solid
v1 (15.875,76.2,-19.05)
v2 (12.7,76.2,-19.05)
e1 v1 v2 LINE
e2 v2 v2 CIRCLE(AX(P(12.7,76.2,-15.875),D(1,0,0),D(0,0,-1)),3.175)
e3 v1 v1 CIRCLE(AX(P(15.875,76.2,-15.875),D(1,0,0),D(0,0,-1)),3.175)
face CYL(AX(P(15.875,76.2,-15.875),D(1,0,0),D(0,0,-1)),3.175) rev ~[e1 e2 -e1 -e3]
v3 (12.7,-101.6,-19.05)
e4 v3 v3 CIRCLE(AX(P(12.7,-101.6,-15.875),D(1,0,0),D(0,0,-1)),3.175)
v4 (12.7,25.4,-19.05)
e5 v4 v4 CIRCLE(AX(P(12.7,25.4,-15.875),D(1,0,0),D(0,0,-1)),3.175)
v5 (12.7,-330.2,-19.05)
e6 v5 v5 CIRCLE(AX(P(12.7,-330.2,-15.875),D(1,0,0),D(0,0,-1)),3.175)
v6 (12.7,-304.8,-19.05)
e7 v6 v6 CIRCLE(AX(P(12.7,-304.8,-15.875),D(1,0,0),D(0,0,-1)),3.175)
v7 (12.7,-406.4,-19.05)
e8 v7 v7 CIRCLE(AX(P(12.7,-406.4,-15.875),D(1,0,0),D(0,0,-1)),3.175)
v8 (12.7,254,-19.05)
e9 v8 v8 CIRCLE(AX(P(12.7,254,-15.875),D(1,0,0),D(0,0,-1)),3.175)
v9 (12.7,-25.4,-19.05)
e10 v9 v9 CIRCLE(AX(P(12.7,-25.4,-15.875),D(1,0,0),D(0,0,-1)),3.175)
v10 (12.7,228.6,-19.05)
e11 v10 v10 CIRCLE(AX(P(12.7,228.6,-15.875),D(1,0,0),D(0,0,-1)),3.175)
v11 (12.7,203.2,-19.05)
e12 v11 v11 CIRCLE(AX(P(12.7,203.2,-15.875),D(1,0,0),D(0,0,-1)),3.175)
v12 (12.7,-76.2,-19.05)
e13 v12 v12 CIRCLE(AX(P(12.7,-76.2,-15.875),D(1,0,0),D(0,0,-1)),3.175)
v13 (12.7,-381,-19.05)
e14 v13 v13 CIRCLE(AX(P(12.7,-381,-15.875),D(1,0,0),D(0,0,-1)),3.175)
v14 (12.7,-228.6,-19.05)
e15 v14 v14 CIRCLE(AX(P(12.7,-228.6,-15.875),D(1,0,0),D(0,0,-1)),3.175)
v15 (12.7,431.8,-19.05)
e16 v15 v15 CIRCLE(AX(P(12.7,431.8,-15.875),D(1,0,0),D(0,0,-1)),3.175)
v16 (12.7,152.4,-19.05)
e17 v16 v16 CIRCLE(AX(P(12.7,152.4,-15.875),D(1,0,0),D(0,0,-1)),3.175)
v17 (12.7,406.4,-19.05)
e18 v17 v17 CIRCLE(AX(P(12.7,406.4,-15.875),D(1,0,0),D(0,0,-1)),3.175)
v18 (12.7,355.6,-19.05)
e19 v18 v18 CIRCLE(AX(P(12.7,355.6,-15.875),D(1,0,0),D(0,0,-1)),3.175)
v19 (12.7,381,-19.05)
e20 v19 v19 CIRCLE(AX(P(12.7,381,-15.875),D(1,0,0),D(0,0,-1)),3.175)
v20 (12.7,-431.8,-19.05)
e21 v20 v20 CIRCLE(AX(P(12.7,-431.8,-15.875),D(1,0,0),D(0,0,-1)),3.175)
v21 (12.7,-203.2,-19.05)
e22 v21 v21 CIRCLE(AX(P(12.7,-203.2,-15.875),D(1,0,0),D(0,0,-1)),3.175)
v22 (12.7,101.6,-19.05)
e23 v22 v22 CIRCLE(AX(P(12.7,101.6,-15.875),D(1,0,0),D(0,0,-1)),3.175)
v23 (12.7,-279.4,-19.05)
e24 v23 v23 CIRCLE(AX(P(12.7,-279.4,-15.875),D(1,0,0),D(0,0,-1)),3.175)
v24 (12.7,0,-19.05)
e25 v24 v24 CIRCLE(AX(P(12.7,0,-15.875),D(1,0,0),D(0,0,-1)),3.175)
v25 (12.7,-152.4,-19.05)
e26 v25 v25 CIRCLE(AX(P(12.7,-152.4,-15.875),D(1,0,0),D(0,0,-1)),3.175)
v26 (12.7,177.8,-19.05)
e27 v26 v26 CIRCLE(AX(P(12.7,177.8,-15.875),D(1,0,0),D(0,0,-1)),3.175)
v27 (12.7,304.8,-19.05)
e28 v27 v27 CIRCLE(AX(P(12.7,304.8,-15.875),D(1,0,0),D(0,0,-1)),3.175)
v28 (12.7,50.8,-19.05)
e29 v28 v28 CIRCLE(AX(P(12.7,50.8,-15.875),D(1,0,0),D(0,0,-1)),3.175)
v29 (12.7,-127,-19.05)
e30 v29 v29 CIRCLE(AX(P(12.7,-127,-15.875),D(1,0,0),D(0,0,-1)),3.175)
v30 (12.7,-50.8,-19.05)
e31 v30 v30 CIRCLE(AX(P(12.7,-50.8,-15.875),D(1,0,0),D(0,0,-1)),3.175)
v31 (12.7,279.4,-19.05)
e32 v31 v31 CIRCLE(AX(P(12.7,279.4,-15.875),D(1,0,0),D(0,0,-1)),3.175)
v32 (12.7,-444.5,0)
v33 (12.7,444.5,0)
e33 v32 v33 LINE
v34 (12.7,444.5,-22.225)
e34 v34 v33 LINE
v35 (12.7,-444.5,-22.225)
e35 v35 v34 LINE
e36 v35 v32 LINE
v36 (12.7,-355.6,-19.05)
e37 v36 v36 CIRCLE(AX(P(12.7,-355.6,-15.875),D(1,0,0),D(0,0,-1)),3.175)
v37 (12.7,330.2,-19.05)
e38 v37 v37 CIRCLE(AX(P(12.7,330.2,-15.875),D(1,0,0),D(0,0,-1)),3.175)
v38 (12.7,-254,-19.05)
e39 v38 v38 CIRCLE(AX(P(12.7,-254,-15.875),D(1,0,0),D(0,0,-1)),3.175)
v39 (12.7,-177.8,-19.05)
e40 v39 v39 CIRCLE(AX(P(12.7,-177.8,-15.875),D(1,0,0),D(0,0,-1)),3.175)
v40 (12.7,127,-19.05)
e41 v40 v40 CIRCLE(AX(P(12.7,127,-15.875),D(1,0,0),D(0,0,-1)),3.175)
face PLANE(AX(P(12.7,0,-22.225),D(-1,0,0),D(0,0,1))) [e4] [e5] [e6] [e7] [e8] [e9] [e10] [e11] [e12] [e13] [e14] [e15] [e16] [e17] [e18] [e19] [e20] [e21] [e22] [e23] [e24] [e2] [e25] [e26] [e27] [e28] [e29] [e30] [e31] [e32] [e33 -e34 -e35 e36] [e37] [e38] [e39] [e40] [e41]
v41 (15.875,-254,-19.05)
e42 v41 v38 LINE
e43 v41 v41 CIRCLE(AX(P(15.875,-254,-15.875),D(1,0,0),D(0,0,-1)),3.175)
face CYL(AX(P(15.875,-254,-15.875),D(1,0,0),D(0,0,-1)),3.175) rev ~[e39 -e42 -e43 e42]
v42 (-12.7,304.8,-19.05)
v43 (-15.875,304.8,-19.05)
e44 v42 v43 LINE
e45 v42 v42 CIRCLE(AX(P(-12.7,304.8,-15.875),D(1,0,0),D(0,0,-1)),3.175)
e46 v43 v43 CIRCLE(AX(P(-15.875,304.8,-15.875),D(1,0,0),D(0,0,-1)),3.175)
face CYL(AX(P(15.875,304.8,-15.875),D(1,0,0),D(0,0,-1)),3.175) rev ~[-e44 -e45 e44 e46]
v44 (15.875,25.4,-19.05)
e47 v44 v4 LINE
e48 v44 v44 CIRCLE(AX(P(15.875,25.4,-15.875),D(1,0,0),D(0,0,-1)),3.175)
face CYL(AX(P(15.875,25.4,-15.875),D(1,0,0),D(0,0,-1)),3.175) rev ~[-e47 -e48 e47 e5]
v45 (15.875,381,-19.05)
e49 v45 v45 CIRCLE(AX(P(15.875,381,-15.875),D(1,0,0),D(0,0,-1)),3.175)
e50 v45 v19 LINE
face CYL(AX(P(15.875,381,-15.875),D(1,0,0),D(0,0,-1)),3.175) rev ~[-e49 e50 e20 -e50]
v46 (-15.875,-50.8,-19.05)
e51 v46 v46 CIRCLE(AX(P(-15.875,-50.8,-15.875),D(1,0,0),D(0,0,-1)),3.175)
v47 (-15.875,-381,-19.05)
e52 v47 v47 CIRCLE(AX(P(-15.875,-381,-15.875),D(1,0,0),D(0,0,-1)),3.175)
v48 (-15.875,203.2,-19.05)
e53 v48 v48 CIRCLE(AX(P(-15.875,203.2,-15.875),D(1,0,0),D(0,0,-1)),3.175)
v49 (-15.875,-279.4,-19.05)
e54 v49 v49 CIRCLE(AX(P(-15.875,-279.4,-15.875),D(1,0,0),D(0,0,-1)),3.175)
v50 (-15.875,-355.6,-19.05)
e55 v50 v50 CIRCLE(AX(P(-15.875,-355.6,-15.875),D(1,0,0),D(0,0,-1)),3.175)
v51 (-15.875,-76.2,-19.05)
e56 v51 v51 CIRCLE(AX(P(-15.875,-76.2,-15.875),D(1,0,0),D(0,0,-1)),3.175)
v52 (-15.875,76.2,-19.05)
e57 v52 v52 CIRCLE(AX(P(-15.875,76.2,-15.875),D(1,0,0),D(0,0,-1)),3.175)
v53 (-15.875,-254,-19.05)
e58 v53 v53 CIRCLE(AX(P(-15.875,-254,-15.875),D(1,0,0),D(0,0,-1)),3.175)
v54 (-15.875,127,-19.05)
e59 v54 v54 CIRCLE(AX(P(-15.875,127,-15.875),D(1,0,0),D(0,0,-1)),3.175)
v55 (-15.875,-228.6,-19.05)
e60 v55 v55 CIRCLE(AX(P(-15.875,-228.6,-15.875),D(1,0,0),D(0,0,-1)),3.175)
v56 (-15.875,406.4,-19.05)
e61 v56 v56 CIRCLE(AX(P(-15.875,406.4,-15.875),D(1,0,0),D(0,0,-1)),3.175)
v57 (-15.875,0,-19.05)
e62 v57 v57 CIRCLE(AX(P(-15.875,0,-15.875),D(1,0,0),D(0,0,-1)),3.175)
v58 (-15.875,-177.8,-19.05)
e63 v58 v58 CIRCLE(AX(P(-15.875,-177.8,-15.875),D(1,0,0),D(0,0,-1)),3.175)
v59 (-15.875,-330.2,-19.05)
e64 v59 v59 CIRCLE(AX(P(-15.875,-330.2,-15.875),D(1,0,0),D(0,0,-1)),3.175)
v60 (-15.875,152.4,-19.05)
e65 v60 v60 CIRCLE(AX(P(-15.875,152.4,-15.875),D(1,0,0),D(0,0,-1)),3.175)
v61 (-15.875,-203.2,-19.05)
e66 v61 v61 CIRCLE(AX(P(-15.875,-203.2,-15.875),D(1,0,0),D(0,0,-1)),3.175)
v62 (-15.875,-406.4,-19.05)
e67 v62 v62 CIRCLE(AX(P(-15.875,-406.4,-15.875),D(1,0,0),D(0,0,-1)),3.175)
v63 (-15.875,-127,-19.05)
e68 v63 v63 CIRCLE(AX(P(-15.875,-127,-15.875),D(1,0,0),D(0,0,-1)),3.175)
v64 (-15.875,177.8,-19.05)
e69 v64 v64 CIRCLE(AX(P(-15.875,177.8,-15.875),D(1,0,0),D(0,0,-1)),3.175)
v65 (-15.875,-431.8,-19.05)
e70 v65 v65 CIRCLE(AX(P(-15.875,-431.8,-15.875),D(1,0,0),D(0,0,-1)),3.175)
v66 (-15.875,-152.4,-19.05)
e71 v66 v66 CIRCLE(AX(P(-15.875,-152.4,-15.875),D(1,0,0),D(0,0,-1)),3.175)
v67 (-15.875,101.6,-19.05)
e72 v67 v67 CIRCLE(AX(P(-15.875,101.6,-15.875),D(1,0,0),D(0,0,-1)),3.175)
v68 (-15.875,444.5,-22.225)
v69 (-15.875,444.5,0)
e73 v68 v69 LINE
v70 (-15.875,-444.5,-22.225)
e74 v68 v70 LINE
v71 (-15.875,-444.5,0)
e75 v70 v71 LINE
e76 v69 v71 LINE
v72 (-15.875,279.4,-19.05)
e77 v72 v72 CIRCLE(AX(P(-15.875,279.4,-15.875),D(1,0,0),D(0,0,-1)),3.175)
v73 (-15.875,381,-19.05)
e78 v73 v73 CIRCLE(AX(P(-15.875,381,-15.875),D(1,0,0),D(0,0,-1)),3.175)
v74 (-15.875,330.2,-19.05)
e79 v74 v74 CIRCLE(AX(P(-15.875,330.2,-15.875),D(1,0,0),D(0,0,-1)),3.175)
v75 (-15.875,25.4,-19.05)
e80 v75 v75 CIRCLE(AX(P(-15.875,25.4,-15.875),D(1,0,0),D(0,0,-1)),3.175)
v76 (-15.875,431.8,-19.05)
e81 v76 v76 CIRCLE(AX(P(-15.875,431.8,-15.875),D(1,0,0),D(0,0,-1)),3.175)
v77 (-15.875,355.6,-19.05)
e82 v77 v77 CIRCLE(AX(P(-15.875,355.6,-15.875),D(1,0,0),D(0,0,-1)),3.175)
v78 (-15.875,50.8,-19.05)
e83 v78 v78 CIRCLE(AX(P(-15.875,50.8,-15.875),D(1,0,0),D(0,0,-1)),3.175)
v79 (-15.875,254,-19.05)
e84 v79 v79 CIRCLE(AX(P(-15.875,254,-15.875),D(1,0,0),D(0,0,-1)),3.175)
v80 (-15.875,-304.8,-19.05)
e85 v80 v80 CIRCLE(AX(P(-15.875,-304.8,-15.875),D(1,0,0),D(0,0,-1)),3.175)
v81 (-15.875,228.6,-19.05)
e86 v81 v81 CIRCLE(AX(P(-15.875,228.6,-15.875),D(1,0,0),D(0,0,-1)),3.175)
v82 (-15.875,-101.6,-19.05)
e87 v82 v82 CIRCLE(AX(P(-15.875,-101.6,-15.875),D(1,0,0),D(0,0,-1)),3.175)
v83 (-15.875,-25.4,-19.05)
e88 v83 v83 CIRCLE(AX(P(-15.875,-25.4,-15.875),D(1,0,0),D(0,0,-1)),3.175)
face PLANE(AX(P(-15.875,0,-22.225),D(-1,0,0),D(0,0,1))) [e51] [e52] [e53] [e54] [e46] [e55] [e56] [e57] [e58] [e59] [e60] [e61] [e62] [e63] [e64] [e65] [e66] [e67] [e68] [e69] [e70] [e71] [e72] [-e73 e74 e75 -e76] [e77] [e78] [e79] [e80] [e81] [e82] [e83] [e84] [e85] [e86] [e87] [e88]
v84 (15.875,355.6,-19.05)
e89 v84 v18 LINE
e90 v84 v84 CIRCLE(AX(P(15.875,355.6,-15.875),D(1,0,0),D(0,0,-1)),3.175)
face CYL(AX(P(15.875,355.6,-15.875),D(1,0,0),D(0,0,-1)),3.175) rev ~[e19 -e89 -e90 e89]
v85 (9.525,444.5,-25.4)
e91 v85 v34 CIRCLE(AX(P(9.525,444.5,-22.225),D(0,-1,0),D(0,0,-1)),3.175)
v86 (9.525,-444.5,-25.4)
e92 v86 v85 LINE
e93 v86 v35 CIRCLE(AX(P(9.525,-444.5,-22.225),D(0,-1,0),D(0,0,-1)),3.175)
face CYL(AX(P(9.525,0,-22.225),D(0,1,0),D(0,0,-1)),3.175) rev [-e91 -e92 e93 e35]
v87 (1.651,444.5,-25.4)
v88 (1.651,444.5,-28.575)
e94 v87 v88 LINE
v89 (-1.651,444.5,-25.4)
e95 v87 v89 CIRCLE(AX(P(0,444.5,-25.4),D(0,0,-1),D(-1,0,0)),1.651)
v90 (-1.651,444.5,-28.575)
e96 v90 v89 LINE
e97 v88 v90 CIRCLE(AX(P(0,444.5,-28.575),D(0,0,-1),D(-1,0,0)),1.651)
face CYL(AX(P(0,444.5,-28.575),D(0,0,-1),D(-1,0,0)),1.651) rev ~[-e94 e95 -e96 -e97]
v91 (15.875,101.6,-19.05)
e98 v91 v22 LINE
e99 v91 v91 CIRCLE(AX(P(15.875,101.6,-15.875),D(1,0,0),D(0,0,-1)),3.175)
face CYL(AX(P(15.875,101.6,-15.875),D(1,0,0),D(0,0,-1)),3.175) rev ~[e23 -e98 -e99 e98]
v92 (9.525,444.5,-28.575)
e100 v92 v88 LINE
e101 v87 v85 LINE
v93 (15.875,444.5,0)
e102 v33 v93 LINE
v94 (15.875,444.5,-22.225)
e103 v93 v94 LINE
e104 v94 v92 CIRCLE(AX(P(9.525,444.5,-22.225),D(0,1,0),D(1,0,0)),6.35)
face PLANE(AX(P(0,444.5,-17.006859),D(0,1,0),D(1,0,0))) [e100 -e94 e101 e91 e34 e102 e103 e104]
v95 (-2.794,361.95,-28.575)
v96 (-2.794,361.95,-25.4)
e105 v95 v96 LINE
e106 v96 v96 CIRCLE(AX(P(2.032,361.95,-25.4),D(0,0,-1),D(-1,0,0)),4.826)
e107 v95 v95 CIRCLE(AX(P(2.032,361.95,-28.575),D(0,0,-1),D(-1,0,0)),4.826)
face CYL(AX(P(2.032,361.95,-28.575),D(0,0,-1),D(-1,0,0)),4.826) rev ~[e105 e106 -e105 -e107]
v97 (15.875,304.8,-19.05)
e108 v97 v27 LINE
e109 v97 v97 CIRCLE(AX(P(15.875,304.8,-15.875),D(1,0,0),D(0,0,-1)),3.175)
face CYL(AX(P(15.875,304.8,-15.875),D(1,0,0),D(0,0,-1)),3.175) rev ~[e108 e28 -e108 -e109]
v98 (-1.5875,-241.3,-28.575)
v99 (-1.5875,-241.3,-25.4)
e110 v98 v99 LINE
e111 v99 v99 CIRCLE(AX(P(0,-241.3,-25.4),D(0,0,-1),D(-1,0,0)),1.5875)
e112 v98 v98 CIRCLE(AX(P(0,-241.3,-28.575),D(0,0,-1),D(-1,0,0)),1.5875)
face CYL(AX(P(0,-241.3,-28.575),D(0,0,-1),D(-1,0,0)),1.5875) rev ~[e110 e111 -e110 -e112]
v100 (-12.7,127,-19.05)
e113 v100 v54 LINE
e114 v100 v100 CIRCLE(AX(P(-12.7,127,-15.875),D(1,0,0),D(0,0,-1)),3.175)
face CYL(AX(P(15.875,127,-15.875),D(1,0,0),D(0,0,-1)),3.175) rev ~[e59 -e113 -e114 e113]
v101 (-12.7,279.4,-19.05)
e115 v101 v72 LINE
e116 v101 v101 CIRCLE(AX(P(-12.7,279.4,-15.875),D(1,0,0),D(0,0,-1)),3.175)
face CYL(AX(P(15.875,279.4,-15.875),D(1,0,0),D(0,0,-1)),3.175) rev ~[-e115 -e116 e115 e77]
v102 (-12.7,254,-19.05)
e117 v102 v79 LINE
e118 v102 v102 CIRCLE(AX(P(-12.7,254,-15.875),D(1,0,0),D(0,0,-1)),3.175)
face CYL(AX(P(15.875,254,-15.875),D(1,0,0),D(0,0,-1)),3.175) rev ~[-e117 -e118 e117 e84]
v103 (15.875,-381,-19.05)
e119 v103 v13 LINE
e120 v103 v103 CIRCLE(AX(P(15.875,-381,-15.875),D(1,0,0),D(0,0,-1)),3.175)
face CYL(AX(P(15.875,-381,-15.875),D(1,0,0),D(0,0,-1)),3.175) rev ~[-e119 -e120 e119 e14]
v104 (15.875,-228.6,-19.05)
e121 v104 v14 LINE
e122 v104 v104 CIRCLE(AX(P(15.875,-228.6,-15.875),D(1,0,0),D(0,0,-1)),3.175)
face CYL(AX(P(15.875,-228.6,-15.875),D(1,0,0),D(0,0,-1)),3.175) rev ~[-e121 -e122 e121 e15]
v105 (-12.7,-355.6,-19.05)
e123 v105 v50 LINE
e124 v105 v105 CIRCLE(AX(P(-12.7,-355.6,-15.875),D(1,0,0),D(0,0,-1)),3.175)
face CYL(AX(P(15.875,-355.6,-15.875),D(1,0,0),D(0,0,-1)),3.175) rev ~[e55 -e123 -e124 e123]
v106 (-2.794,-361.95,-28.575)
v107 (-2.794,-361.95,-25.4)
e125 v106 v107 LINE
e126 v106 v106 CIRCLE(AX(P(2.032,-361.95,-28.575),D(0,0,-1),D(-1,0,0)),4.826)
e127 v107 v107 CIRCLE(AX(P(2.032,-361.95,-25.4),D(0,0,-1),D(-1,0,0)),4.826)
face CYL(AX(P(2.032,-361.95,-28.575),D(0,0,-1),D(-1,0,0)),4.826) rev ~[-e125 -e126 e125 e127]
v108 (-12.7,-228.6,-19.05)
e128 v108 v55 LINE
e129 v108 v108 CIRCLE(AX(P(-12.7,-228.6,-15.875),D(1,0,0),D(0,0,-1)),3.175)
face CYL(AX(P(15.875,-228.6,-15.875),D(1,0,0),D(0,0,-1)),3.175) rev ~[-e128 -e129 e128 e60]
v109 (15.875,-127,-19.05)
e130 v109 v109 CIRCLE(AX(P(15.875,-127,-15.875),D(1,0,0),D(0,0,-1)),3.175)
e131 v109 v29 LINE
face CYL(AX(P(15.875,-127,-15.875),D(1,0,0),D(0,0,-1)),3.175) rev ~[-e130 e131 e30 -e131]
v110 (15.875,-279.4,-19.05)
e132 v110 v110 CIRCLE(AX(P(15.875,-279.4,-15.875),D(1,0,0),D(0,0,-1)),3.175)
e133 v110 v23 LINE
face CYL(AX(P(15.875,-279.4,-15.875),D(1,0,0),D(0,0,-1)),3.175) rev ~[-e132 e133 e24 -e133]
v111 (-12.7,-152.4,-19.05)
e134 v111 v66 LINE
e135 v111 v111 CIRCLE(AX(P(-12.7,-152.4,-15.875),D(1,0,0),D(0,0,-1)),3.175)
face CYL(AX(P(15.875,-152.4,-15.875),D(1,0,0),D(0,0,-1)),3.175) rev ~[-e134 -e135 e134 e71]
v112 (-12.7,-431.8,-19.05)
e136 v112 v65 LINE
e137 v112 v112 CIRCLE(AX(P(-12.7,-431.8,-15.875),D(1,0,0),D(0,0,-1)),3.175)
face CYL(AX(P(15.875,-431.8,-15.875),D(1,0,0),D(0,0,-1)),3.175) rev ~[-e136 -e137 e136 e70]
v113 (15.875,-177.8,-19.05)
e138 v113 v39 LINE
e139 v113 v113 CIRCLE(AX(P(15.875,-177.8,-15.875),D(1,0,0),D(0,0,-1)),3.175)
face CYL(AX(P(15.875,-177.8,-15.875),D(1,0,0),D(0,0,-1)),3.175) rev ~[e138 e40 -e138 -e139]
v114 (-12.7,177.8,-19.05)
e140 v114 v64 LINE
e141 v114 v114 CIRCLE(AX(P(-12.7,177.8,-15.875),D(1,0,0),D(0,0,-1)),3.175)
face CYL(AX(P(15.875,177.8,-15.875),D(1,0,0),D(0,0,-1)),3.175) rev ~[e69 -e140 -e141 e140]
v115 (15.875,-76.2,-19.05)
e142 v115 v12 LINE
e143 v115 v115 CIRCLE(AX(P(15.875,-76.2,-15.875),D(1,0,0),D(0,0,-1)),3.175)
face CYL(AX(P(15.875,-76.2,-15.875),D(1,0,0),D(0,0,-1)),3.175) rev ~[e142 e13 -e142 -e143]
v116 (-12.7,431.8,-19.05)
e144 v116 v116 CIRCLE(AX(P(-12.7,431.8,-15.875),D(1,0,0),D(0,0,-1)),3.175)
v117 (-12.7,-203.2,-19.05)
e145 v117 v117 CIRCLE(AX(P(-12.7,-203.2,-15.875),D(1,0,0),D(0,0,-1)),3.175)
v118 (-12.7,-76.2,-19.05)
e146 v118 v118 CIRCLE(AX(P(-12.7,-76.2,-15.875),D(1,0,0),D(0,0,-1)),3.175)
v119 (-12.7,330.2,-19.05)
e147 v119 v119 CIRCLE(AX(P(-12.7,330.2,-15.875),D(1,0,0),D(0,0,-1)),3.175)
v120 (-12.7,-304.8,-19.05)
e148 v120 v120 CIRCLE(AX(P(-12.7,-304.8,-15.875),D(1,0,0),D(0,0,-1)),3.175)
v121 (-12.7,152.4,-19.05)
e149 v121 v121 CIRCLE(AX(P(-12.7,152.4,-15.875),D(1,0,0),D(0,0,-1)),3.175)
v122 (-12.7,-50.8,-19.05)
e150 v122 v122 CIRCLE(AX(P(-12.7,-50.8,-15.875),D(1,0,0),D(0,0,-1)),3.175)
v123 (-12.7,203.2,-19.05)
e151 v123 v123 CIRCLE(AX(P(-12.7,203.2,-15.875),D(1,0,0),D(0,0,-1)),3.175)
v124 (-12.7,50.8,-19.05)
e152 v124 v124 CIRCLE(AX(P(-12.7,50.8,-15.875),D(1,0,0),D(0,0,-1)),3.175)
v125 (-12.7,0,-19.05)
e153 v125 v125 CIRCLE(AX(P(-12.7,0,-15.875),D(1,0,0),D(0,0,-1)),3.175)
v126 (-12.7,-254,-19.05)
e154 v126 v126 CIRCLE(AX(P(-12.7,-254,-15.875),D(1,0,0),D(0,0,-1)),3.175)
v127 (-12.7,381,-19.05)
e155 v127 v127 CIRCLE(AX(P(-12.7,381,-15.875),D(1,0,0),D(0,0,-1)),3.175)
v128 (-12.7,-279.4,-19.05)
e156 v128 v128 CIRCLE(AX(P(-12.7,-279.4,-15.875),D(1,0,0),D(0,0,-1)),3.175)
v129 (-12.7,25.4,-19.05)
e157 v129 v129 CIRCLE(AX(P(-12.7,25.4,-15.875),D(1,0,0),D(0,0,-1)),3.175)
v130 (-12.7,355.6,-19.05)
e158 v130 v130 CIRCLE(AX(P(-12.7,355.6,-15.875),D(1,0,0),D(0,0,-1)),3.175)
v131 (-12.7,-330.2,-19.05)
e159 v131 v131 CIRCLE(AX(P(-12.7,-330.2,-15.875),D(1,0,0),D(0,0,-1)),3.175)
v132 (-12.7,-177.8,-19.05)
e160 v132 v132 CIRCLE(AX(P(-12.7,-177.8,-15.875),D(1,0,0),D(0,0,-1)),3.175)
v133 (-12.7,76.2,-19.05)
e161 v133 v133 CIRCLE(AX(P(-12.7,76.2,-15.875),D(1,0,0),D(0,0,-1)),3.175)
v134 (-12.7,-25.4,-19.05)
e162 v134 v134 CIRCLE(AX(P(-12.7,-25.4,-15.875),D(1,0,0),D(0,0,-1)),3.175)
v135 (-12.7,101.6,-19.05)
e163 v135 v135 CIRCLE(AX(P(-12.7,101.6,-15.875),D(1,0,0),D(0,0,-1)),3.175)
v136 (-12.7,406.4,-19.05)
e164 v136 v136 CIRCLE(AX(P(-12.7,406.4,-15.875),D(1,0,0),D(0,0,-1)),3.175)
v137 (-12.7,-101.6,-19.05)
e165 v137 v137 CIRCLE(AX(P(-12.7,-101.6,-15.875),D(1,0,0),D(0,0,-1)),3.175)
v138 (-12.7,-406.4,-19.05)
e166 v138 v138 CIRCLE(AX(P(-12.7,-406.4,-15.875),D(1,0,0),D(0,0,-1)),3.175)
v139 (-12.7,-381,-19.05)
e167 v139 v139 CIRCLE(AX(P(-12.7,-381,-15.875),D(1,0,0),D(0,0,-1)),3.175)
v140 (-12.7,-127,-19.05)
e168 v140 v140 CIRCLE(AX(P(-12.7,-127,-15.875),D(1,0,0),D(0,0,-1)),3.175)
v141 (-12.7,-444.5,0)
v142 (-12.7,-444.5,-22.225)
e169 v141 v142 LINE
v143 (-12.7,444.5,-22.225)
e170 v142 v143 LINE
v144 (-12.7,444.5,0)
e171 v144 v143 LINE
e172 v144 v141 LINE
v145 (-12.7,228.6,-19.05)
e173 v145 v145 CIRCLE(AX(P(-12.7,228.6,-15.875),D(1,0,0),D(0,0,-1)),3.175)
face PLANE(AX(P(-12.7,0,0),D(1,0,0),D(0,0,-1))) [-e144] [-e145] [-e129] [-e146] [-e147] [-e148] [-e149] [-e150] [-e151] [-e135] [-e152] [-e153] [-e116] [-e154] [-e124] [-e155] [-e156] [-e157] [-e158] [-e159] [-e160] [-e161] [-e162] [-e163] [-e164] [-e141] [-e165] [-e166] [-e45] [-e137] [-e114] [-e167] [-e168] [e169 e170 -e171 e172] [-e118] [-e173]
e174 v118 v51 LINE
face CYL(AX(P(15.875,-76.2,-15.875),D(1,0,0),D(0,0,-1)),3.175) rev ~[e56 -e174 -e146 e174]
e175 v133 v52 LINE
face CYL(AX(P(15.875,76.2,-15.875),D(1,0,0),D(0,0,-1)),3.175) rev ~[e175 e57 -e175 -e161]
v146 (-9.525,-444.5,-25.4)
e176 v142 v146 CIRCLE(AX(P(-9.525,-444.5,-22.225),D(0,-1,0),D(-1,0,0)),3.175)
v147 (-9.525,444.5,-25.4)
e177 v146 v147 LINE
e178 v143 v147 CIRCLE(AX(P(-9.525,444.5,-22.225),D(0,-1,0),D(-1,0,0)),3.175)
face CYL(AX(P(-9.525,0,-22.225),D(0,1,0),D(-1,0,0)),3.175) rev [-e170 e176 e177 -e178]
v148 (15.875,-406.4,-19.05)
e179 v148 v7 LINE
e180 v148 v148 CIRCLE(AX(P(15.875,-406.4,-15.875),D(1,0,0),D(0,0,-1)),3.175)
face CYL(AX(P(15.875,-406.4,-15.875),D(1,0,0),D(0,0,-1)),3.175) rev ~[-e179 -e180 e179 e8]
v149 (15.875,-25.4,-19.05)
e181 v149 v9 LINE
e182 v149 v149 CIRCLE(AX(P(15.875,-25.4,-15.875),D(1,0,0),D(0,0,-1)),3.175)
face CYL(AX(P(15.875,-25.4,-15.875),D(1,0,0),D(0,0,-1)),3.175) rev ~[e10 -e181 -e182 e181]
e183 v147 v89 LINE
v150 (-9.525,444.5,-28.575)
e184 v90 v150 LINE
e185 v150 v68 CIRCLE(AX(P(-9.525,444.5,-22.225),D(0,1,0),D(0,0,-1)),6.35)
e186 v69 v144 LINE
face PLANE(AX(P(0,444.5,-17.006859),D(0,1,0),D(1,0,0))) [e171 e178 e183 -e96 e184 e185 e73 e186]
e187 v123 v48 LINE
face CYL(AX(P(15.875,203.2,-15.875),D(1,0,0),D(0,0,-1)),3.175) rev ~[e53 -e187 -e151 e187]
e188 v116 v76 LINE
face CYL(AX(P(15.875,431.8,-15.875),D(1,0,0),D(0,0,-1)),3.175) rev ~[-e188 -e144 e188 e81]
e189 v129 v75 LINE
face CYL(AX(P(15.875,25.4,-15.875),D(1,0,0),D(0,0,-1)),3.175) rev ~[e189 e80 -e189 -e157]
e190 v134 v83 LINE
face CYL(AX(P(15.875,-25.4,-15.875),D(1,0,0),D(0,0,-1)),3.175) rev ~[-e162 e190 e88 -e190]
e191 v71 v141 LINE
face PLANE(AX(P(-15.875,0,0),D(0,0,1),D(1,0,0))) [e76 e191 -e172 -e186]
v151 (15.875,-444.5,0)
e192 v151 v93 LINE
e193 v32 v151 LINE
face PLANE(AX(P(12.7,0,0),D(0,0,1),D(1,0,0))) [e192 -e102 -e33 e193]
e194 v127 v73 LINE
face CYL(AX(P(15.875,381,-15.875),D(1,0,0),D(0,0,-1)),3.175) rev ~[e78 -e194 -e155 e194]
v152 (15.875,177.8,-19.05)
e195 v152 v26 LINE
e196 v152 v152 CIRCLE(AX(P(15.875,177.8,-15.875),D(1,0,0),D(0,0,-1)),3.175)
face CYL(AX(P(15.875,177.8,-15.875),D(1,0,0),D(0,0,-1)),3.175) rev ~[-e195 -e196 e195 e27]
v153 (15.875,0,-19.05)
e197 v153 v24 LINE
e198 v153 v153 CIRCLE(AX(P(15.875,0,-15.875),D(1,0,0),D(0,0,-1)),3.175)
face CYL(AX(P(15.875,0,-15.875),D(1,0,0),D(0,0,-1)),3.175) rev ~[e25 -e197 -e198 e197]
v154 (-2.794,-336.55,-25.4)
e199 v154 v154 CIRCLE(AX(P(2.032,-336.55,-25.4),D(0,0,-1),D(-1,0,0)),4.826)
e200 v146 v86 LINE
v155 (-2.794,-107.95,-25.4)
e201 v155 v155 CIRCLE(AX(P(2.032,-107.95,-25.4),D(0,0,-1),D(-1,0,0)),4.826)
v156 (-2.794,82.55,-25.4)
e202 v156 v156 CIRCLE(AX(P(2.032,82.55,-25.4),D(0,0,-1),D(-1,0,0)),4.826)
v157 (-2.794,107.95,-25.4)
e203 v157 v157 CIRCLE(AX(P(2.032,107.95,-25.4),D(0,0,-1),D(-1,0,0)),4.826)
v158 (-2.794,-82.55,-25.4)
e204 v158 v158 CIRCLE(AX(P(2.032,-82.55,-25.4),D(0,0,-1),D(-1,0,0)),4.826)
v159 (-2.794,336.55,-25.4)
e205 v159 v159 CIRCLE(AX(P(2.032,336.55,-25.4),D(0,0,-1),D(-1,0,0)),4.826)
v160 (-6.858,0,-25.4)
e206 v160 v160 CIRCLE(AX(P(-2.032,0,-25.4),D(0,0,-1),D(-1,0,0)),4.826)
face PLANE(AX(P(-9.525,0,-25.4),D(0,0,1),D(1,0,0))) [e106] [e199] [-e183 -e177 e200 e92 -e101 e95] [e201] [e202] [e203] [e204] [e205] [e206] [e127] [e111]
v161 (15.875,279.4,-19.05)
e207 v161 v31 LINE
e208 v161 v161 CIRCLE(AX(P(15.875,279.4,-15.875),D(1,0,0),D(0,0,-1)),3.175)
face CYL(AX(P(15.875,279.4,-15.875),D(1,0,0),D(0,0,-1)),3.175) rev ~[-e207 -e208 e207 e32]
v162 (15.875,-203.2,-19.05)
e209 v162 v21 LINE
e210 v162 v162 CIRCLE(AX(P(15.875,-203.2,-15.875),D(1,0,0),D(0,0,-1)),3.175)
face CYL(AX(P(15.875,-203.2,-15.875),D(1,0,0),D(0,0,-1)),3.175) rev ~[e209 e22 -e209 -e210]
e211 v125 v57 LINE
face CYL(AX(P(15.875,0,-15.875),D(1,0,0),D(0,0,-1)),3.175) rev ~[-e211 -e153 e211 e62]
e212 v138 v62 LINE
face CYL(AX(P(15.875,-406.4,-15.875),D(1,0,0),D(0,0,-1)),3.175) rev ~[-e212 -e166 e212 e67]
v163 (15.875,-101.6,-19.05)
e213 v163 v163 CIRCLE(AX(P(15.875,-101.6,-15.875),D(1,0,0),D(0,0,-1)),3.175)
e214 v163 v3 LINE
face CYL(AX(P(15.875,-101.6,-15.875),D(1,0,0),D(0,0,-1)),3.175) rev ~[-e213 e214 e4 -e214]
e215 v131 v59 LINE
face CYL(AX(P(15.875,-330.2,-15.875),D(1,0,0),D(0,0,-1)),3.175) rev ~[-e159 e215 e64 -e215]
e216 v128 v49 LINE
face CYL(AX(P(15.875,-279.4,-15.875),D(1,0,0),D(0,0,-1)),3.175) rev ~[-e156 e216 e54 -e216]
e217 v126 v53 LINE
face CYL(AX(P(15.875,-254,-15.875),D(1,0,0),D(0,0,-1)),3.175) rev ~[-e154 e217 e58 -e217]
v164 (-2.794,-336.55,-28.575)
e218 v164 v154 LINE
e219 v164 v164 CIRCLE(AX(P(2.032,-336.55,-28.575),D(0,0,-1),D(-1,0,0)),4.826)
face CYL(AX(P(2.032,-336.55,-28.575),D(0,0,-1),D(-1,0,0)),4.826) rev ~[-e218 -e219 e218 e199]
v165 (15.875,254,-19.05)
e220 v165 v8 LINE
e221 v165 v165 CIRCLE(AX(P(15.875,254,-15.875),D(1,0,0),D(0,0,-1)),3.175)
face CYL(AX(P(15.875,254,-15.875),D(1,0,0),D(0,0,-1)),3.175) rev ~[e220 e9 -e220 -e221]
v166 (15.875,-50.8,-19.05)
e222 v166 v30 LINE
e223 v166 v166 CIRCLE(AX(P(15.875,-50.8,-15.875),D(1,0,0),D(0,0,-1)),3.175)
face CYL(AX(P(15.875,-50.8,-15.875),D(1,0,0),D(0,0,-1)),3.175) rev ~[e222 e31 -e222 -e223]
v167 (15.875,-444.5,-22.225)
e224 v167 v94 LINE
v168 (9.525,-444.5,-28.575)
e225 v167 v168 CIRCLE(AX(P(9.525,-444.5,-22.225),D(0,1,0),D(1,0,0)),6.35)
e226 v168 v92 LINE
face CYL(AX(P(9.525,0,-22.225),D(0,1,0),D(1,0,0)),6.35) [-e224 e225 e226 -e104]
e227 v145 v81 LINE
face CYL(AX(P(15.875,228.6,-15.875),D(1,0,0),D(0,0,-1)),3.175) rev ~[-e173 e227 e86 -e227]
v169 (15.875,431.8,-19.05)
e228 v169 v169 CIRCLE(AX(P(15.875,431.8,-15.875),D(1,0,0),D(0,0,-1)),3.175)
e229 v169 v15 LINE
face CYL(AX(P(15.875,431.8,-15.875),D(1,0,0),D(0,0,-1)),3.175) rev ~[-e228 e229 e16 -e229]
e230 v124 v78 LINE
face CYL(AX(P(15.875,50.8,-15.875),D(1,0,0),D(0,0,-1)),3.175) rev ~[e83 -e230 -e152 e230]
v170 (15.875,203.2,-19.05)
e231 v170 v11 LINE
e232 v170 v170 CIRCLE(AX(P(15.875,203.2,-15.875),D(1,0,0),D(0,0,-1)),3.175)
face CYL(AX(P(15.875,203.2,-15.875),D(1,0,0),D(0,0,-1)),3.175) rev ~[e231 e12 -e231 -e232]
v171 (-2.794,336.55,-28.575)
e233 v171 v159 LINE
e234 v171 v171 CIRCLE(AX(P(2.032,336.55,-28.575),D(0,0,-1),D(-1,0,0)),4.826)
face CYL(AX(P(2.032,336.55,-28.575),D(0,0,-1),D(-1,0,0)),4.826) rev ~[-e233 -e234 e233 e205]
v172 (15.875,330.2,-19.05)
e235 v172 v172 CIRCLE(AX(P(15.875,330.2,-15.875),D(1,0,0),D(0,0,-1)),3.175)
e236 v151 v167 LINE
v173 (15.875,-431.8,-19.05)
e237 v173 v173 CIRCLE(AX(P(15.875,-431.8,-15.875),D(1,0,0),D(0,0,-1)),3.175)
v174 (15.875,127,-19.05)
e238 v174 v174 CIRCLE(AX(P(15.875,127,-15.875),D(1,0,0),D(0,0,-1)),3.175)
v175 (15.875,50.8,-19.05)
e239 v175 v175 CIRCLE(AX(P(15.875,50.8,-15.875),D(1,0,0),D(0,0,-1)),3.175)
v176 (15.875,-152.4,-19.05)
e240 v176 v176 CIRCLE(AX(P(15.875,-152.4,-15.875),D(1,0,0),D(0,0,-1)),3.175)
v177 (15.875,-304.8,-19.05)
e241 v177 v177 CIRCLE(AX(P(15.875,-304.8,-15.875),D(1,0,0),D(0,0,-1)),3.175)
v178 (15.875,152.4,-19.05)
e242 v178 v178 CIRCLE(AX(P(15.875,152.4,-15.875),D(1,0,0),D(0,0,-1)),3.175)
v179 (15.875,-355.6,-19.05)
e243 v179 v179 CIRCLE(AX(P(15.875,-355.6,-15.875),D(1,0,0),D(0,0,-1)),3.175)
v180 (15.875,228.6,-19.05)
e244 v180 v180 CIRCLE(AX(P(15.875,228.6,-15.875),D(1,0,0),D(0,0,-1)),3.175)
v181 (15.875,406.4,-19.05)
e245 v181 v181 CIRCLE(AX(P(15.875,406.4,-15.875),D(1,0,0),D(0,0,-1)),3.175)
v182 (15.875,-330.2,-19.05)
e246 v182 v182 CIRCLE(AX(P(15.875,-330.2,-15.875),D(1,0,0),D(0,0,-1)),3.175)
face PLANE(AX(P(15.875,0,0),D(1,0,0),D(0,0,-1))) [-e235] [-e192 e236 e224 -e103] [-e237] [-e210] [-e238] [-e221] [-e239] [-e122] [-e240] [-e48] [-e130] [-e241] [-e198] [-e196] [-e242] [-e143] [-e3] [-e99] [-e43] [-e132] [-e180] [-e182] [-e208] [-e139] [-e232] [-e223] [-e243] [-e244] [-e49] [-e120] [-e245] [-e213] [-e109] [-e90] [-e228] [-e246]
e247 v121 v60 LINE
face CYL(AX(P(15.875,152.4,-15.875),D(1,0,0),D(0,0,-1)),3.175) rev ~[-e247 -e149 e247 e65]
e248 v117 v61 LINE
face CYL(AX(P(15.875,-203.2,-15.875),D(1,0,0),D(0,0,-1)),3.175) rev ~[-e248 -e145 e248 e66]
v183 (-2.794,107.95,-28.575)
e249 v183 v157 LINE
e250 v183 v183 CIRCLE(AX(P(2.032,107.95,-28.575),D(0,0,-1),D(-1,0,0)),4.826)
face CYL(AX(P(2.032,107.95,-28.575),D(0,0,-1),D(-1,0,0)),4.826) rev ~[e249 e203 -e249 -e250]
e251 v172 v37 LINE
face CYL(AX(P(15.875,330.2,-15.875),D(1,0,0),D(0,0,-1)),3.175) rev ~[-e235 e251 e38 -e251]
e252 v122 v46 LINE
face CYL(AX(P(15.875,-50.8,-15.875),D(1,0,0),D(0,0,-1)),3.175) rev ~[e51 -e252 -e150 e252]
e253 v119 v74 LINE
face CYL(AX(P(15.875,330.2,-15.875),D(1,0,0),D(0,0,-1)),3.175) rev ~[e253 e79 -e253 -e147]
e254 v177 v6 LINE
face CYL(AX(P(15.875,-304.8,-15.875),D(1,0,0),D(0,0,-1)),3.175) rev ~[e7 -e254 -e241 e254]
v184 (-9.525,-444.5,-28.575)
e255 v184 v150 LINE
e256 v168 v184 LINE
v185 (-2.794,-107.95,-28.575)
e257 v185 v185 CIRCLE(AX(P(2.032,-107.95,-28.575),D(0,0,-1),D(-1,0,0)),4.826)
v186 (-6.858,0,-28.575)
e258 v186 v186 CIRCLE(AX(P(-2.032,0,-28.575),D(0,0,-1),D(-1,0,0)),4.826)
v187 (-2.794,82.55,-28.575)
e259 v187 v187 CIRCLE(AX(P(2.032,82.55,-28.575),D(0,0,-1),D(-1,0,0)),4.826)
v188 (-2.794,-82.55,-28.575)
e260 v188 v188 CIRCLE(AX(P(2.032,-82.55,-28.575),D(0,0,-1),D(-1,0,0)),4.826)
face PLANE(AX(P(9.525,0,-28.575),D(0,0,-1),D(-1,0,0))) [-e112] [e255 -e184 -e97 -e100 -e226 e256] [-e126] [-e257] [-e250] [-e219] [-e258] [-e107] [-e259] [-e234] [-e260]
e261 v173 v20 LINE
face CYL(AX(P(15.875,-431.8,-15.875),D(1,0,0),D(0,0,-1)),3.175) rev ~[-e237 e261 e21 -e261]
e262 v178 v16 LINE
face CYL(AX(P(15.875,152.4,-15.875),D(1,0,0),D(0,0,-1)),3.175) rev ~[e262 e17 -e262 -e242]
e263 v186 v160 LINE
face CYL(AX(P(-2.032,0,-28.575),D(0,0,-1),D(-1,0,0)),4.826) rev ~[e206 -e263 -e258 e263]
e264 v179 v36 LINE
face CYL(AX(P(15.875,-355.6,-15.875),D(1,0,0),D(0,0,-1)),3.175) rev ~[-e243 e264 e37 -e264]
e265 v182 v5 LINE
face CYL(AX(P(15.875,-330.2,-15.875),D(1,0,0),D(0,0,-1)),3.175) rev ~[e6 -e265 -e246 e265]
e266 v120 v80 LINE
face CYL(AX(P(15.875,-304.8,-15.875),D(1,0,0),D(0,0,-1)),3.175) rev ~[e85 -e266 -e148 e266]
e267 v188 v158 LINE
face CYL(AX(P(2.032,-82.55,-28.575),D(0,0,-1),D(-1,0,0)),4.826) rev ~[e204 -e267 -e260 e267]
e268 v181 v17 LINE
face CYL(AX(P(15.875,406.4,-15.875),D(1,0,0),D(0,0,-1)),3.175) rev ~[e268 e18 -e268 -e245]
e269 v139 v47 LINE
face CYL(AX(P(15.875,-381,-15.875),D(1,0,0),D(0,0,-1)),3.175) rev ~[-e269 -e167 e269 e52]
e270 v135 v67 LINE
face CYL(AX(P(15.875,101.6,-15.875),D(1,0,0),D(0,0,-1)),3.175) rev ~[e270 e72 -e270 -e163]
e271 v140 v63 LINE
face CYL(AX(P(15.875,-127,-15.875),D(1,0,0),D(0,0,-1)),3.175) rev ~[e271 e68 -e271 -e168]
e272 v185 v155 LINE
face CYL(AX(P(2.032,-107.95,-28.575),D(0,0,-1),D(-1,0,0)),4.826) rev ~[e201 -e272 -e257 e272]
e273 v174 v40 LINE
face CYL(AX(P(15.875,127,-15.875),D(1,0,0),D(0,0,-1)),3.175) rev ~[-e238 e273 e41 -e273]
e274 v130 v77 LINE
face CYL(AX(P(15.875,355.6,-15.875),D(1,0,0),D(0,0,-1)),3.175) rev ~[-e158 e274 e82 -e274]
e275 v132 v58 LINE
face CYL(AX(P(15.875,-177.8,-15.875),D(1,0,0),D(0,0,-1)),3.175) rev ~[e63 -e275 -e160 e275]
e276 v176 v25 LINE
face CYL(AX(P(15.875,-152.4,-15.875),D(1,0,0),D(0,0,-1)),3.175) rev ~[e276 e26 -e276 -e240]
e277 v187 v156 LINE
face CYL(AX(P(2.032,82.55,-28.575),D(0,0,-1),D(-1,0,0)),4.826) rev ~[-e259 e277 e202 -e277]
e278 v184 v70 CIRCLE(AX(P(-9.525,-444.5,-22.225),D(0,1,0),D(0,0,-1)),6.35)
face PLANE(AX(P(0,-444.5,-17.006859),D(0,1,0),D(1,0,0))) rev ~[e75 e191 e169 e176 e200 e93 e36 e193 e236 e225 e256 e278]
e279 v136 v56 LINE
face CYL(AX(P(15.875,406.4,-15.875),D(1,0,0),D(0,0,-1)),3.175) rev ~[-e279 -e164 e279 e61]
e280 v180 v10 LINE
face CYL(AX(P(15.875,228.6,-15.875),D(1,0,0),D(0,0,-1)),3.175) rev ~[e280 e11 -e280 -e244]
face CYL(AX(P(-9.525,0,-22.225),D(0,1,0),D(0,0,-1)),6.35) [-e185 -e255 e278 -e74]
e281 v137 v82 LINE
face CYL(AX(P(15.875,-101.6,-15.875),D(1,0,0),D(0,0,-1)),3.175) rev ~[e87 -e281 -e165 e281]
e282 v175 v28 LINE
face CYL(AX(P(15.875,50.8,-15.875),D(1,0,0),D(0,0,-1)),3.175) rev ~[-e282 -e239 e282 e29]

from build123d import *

# Parameters (mm, degrees)
BOSS_EXTRUDE1_DEPTH = 444.5
SKETCH3_R           = 1.651
SKETCH3_R_2         = 4.826
SKETCH3_R_3         = 1.5875
CUT_EXTRUDE1_DEPTH  = 446.700343561
SKETCH4_R           = 3.175
CUT_EXTRUDE2_DEPTH  = 447.547694121
LPATTERN1_COUNT     = 35
LPATTERN1_PITCH     = 25.4


with BuildPart() as part:
    # Sketch2 → Boss-Extrude1 (new, symmetric)
    with BuildSketch(Plane(origin=(0, 0, 0), x_dir=(1, 0, 0), z_dir=(0, 1, 0))):
        with BuildLine():
            Line((-12.7, 0), (-12.7, 22.225))
            ThreePointArc((-12.7, 22.225), (-11.77006403, 24.47006403), (-9.525, 25.4))
            Line((-9.525, 25.4), (9.525, 25.4))
            ThreePointArc((9.525, 25.4), (11.77006403, 24.47006403), (12.7, 22.225))
            Line((12.7, 22.225), (12.7, 0))
            Line((12.7, 0), (15.875, 0))
            Line((15.875, 0), (15.875, 22.225))
            ThreePointArc((15.875, 22.225), (14.015128061, 26.715128061), (9.525, 28.575))
            Line((9.525, 28.575), (-9.525, 28.575))
            ThreePointArc((-9.525, 28.575), (-14.015128061, 26.715128061), (-15.875, 22.225))
            Line((-15.875, 22.225), (-15.875, 0))
            Line((-15.875, 0), (-12.7, 0))
        make_face()
    extrude(amount=BOSS_EXTRUDE1_DEPTH, both=True)

    # Sketch3 → Cut-Extrude1 (cut, through all)
    with BuildSketch(Plane(origin=(0, 0, -28.575), x_dir=(-1, 0, 0), z_dir=(0, 0, -1))):
        with Locations((0, 444.5)):
            Circle(SKETCH3_R)
        with Locations((-2.032, 361.95)):
            Circle(SKETCH3_R_2)
        with Locations((-2.032, 336.55)):
            Circle(SKETCH3_R_2)
        with Locations((-2.032, 107.95)):
            Circle(SKETCH3_R_2)
        with Locations((-2.032, 82.55)):
            Circle(SKETCH3_R_2)
        with Locations((-2.032, -107.95)):
            Circle(SKETCH3_R_2)
        with Locations((-2.032, -82.55)):
            Circle(SKETCH3_R_2)
        with Locations((0, -241.3)):
            Circle(SKETCH3_R_3)
        with Locations((2.032, 0)):
            Circle(SKETCH3_R_2)
        with Locations((-2.032, -336.55)):
            Circle(SKETCH3_R_2)
        with Locations((-2.032, -361.95)):
            Circle(SKETCH3_R_2)
    extrude(amount=-CUT_EXTRUDE1_DEPTH, mode=Mode.SUBTRACT)

    # Sketch4 → Cut-Extrude2 (cut, through all)
    with BuildSketch(Plane(origin=(15.875, 0, 0), x_dir=(0, 0, -1), z_dir=(1, 0, 0))):
        with Locations((15.875, 431.8)):
            Circle(SKETCH4_R)
    cut_extrude2 = extrude(amount=-CUT_EXTRUDE2_DEPTH, mode=Mode.SUBTRACT)

    # LPattern1: Cut-Extrude2 ×35
    with Locations(*[(0, -i * LPATTERN1_PITCH, 0) for i in range(1, LPATTERN1_COUNT)]):
        add(cut_extrude2, mode=Mode.SUBTRACT)


solid = part.part
